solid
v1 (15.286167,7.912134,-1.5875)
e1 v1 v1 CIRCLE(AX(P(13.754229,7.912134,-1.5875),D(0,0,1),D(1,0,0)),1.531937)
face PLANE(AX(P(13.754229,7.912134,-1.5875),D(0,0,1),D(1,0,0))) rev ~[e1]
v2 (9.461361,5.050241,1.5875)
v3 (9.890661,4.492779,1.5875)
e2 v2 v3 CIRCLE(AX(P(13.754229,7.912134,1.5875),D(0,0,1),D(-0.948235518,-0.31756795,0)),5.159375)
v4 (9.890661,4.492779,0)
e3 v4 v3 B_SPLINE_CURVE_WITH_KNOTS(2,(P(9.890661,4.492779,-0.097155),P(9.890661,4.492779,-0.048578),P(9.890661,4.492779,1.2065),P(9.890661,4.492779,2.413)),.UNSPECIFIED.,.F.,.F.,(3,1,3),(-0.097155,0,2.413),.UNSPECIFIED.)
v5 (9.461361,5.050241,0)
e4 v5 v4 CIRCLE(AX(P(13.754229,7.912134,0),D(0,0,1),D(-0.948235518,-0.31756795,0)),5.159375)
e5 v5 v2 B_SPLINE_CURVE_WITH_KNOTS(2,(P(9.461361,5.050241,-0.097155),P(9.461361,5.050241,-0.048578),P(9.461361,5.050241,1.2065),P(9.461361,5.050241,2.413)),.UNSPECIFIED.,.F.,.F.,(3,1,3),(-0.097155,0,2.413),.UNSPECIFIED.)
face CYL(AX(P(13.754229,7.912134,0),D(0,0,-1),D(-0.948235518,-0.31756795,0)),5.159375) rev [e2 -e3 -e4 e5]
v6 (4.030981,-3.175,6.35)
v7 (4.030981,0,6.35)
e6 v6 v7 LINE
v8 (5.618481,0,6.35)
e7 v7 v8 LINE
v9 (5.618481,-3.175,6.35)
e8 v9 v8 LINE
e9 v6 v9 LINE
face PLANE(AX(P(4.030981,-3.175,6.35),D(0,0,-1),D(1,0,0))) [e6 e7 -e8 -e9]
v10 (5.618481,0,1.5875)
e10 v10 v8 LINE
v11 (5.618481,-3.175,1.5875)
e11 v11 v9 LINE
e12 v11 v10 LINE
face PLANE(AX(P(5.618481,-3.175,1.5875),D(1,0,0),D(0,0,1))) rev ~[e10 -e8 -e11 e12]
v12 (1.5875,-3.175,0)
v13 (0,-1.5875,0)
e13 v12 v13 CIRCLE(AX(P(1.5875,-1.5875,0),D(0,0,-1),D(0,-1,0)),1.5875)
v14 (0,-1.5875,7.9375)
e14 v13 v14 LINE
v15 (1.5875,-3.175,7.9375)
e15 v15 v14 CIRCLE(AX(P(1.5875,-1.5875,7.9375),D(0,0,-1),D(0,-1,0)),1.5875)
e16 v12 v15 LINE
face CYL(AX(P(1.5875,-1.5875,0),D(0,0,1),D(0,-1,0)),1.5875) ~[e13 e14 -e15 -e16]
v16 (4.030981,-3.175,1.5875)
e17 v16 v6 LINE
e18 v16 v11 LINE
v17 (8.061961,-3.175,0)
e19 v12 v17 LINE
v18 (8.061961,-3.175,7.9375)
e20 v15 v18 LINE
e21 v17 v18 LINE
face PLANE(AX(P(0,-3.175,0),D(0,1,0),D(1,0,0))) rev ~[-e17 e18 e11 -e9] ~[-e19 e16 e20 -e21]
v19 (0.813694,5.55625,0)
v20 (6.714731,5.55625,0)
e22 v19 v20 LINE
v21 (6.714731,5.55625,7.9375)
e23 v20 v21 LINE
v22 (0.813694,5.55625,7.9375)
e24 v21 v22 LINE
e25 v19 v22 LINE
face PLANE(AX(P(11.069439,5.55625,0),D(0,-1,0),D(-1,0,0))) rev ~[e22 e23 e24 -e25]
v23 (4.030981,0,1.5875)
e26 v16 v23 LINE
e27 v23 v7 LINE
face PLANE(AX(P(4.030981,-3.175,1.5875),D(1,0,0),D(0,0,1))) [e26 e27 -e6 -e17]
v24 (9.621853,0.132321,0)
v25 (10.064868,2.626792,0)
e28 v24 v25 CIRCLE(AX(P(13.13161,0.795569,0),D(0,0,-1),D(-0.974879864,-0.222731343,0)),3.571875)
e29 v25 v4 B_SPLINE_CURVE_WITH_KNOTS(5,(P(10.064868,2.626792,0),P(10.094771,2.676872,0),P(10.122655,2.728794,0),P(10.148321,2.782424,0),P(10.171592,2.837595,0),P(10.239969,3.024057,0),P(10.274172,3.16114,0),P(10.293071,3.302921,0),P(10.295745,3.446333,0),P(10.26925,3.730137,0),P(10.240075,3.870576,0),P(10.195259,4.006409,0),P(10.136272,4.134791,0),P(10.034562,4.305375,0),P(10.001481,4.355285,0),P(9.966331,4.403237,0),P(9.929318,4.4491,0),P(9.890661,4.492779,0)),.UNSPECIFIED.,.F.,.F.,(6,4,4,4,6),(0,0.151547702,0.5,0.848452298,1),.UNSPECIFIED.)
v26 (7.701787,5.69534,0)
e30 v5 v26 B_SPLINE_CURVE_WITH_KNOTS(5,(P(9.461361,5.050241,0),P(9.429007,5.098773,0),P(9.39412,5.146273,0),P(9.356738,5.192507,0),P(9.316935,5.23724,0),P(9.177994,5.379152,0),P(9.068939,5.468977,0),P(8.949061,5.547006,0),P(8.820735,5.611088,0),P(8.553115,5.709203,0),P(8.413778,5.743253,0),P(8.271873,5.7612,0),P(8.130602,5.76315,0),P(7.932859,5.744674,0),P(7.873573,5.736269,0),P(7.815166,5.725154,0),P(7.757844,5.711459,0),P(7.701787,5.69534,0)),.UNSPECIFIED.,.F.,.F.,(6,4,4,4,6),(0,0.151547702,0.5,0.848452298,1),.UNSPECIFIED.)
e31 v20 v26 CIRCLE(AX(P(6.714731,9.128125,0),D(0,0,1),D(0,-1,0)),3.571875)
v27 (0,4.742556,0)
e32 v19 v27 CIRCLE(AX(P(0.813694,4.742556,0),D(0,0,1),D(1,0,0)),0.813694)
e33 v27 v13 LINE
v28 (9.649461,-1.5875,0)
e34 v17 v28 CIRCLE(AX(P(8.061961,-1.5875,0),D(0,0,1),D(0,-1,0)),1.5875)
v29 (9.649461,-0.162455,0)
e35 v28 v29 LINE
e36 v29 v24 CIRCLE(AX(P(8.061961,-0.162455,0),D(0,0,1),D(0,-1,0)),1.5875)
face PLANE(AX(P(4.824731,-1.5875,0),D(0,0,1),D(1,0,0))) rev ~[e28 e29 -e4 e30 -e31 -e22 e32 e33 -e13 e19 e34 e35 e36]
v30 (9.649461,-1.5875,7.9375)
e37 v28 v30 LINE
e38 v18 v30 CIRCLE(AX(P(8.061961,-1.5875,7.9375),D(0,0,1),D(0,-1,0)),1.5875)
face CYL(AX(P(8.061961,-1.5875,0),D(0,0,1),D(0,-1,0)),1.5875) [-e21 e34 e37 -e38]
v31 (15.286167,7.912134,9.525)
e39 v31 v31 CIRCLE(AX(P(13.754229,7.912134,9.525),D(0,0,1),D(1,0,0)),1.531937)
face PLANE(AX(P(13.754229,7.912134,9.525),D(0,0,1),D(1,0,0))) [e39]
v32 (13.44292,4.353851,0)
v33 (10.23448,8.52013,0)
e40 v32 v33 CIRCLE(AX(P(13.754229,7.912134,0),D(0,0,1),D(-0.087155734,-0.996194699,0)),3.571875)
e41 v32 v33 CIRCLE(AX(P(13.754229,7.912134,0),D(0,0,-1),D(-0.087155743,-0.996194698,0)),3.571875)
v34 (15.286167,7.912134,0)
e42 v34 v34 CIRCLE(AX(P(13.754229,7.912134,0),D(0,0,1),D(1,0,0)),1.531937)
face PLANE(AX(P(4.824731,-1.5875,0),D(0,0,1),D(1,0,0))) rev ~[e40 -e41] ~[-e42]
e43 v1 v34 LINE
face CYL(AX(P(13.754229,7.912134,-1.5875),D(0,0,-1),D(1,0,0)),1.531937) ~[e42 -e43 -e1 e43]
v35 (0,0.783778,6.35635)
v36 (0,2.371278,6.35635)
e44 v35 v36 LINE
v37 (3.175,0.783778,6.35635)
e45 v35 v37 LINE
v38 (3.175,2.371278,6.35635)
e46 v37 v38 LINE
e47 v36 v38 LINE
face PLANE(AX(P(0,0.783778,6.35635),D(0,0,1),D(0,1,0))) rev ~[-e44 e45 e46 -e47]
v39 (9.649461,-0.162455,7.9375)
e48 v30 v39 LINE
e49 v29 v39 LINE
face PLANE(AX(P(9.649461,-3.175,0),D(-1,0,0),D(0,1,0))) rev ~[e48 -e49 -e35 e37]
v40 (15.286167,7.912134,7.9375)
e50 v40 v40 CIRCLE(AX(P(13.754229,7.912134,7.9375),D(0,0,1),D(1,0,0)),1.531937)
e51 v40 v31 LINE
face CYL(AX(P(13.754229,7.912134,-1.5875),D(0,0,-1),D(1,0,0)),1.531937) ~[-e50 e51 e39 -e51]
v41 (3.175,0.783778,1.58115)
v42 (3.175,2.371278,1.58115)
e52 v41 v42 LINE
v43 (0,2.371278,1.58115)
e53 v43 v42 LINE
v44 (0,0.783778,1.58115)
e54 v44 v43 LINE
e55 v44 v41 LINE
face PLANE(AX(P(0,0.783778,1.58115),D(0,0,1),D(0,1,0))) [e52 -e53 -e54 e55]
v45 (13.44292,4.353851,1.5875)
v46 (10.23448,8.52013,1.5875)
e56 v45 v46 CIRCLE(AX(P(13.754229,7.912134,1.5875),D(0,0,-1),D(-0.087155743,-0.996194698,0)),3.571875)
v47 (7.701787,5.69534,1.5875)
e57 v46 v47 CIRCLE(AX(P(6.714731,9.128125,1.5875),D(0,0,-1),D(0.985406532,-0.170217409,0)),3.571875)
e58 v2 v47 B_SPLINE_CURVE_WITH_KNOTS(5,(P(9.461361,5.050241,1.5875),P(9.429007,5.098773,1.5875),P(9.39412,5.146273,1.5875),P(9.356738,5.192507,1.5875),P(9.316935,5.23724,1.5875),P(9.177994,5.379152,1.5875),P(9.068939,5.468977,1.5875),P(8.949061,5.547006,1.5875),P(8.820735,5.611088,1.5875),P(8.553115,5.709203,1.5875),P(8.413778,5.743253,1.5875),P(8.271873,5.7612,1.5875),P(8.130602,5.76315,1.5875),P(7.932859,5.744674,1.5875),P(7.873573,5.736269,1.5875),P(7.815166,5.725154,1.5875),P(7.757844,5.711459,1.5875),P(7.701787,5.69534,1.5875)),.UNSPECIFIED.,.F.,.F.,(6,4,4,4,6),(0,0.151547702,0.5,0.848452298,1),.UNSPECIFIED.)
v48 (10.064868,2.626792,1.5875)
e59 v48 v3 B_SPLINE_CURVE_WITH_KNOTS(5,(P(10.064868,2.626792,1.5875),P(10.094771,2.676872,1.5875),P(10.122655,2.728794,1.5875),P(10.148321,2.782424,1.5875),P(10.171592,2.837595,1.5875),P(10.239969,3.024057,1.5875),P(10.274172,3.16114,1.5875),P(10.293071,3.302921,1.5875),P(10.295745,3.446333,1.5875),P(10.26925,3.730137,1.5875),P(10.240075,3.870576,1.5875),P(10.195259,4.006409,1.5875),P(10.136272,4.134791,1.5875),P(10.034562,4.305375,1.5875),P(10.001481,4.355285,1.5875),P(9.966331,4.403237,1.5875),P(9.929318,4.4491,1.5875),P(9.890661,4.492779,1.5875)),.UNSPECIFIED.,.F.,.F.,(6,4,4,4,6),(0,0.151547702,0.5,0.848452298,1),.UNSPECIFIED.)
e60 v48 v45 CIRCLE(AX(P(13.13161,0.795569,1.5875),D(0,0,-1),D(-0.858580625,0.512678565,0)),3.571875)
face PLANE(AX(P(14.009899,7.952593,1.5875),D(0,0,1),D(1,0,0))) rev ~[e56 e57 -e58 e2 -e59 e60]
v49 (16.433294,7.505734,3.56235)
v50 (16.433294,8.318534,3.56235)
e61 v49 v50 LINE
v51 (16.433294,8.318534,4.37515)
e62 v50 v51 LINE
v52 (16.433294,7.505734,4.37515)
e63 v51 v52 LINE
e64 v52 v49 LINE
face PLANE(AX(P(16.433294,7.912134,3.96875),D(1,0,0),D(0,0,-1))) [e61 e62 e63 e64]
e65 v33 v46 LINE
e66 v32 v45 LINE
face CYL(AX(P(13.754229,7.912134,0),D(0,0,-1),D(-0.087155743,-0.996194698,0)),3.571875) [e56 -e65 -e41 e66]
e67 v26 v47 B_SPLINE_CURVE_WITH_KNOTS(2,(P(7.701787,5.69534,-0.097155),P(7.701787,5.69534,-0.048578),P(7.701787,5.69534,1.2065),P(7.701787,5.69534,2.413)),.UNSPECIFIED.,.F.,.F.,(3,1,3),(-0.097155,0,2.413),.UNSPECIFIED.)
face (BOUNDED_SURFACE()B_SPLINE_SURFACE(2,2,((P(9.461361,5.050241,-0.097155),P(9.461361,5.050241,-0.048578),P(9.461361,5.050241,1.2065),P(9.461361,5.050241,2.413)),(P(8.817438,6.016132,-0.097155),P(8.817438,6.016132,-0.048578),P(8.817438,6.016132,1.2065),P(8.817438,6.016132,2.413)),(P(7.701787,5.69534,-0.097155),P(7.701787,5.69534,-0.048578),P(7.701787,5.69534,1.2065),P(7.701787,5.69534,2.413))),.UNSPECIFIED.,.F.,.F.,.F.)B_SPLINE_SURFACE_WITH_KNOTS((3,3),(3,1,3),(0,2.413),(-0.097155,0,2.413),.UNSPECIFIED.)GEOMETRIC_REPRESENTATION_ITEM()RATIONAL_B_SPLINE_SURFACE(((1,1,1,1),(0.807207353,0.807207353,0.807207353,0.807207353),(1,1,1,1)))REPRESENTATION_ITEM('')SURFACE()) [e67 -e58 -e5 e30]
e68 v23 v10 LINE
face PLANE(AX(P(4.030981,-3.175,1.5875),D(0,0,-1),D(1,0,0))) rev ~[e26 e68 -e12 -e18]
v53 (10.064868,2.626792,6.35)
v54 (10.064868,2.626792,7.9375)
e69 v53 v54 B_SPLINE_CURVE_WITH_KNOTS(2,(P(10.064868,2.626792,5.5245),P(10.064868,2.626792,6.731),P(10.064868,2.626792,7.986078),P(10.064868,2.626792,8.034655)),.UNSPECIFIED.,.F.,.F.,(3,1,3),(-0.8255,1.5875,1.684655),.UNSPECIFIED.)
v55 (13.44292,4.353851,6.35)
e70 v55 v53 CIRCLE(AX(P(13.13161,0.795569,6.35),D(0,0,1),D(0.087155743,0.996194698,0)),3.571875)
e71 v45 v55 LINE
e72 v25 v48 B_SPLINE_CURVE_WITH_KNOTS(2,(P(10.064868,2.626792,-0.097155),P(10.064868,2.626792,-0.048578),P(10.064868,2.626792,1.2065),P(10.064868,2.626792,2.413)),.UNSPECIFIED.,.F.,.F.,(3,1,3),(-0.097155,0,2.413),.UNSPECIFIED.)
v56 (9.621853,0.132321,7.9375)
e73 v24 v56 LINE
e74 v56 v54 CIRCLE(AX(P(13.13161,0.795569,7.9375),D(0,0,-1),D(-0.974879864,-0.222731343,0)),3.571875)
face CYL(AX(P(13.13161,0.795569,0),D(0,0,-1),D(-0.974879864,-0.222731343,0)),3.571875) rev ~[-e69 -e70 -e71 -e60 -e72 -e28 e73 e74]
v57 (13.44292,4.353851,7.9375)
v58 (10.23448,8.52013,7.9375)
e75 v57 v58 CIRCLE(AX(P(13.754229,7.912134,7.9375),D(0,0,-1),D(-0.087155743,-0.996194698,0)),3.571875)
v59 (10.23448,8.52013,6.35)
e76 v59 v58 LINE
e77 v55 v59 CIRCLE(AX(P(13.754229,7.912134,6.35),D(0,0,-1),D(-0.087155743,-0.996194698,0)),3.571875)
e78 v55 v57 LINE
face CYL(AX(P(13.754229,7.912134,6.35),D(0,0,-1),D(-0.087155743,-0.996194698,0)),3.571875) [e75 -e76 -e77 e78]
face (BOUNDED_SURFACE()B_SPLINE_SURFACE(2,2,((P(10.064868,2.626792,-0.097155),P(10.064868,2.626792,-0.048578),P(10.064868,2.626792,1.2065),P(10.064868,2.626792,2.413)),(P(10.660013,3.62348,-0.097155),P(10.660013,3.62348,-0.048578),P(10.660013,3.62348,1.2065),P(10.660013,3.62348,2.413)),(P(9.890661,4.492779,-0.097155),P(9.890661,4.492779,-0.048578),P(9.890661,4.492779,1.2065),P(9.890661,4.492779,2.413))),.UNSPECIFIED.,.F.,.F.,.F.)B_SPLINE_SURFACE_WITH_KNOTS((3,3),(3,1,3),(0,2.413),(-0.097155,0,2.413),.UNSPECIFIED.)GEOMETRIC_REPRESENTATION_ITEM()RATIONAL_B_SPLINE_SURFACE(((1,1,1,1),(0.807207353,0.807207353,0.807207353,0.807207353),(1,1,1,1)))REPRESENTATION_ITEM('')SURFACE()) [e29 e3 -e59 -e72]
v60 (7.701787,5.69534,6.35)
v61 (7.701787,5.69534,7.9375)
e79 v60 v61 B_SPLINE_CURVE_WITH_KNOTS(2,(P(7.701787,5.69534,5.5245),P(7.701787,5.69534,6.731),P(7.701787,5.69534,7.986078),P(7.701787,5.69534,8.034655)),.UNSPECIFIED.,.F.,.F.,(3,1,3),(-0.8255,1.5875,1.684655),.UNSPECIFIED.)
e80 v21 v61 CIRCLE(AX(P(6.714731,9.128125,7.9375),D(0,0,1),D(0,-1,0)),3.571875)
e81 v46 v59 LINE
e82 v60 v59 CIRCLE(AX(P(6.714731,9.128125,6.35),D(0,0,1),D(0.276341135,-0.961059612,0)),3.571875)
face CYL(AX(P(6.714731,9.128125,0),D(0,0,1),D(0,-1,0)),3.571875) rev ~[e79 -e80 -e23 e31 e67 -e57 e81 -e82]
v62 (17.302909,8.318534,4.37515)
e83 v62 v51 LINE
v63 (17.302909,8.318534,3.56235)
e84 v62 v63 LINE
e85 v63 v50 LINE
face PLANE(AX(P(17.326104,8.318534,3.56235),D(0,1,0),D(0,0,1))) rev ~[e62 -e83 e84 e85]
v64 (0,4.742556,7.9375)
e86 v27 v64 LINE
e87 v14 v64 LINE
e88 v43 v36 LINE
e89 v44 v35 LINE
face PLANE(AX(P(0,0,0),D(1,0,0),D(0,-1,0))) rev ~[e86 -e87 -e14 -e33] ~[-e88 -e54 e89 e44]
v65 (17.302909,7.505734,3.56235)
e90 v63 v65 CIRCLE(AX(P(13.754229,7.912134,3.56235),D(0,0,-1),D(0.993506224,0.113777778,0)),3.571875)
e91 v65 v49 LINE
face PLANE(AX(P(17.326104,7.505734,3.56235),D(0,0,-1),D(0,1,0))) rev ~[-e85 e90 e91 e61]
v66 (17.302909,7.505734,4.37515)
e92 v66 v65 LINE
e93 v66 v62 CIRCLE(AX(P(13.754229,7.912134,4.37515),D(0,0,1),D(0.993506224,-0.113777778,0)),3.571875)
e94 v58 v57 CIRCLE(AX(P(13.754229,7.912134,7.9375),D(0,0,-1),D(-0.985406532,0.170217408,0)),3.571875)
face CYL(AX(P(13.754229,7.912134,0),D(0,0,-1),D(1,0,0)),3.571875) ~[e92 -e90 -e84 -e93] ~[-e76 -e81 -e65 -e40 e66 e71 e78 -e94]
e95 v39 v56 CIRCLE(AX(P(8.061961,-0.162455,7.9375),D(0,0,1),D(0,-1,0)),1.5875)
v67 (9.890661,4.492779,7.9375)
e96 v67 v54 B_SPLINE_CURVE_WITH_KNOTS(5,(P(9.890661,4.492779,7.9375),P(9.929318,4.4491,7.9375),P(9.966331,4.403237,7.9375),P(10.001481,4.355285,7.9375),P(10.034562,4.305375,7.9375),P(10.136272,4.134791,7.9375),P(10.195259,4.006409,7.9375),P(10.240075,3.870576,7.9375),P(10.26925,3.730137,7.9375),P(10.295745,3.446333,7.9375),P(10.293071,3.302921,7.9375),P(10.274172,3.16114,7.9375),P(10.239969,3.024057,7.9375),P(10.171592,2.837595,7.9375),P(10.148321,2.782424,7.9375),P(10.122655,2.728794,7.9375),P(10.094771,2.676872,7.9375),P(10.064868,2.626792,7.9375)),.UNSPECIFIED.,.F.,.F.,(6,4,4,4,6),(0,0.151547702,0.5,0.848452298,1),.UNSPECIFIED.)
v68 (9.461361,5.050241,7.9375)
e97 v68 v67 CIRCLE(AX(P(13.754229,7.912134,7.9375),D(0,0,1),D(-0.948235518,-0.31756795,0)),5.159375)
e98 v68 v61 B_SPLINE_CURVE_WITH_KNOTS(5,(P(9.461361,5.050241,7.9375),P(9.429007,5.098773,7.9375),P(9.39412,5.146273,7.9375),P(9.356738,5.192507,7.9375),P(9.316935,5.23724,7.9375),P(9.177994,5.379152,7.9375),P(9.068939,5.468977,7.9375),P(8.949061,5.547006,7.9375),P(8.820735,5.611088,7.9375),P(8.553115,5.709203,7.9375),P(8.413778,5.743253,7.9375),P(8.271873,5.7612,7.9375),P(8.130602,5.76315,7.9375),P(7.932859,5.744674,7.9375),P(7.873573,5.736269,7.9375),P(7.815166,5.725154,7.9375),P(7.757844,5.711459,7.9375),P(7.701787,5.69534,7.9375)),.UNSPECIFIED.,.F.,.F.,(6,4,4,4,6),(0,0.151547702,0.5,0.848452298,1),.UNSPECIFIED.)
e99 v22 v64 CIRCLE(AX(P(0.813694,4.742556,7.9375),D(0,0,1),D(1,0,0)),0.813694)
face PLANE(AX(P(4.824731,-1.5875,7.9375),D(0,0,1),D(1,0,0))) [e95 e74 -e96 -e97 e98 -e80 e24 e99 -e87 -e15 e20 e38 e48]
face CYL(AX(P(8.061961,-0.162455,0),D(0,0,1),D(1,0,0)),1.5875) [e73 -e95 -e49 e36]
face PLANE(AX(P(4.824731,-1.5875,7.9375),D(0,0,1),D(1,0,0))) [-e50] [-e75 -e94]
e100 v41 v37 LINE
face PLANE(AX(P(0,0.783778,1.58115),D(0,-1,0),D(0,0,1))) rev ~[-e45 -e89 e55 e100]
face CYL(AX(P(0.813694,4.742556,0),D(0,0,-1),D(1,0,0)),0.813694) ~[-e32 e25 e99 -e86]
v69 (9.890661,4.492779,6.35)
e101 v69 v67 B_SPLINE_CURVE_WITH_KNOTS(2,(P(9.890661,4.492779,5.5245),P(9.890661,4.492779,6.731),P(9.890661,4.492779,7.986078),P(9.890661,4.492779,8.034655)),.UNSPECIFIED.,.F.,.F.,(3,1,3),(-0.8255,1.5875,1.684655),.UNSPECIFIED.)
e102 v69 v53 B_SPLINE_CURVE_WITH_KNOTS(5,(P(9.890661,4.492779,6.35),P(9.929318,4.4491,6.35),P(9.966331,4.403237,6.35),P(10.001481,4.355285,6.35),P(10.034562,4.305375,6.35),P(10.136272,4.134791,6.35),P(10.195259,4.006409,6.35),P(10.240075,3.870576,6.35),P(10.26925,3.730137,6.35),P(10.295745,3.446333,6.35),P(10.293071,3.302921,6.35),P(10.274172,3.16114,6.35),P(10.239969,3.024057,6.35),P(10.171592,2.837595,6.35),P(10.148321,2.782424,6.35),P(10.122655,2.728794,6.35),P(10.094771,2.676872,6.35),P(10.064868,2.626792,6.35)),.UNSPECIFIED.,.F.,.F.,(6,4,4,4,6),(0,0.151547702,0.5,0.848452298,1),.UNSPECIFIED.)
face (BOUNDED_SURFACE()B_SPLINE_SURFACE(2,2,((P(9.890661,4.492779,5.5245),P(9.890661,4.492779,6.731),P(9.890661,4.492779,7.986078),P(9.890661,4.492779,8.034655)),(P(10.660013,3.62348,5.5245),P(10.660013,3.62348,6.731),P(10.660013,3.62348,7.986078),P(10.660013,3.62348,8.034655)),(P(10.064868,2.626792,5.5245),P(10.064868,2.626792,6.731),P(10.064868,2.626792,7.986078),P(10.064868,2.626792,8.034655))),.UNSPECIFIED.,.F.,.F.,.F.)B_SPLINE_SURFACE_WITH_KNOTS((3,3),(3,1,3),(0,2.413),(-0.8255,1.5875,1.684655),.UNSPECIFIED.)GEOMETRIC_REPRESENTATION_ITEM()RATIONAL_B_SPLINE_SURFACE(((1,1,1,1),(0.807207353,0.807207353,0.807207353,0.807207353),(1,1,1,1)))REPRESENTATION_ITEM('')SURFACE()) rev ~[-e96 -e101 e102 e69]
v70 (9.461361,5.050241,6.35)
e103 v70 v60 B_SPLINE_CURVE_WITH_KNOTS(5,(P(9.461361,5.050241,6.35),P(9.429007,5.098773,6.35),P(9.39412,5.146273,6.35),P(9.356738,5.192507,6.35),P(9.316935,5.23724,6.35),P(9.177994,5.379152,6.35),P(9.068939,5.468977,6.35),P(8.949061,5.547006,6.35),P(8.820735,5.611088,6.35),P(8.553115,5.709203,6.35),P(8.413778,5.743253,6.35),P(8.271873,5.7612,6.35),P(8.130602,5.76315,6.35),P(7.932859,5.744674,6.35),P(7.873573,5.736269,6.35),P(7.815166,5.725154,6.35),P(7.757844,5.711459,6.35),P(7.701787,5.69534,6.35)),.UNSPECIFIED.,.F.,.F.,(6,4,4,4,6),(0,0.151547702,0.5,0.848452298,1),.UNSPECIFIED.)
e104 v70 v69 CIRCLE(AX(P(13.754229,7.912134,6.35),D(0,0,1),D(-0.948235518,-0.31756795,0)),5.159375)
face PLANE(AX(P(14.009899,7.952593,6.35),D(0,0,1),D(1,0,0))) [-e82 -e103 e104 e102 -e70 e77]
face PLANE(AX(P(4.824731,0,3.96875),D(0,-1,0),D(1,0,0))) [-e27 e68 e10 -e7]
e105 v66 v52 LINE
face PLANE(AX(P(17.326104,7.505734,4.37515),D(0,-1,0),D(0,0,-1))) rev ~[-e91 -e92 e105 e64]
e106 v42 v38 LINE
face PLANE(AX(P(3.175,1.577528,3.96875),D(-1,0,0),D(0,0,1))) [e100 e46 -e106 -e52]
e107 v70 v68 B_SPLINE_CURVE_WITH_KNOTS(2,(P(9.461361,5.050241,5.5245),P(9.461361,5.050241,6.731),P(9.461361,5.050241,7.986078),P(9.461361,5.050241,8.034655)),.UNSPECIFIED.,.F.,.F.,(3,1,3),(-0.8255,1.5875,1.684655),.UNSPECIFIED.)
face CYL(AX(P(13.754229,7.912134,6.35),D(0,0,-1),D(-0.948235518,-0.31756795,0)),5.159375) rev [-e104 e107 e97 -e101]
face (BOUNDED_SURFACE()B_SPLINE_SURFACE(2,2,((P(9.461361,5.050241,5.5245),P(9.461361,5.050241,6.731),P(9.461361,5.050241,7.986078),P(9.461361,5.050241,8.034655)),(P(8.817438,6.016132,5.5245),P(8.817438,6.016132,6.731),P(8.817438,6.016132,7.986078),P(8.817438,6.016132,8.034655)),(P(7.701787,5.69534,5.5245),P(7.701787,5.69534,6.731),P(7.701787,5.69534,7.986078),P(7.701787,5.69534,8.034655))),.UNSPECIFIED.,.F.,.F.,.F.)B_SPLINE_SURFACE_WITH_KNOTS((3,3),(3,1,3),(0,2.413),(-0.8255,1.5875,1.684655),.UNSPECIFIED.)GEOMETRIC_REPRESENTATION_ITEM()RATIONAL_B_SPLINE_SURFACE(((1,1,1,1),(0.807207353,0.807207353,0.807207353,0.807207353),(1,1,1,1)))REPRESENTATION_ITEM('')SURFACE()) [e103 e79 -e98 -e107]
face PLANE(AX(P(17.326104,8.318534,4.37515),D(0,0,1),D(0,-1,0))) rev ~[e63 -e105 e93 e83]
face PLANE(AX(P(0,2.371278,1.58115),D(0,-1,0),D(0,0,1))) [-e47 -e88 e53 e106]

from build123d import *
from build123d.topology import SkipClean

# Parameters (mm, degrees)
SKETCH3_R                = 1.5319375
BOSS_EXTRUDE1_DEPTH      = 7.9375
BOSS_EXTRUDE2_DEPTH      = 9.525
BOSS_EXTRUDE2_DEPTH_BACK = 1.5875
SKETCH3_4_R              = 1.5319375
FILLET1_R                = 1.5875
SKETCH4_W                = 1.5875
SKETCH4_H                = 4.7625
CUT_EXTRUDE1_DEPTH       = 3.175
SKETCH5_W                = 4.7752
SKETCH5_H                = 1.5875
CUT_EXTRUDE2_DEPTH       = 3.175
FILLET2_R                = 3.571875
SKETCH6_W                = 0.8128
SKETCH6_H                = 0.8128
CUT_EXTRUDE4_DEPTH       = 0.89281
CUT_EXTRUDE6_START       = -1.5875
CUT_EXTRUDE6_DEPTH       = 1.5875
CUT_EXTRUDE7_START       = -7.9375
CUT_EXTRUDE7_DEPTH       = 1.5875
FILLET4_R                = 1.5875


with BuildPart() as part:
    # Sketch3 → Boss-Extrude1 (new body)
    with BuildSketch(Plane.XY):
        with BuildLine():
            ThreePointArc((0.813693974, 5.55625), (0.238325447, 5.317924553), (0, 4.742556026))
            Line((0, 4.742556026), (0, -3.175))
            Line((0, -3.175), (9.649461258, -3.175))
            Line((9.649461258, -3.175), (9.649461258, 0))
            ThreePointArc((9.649461258, 0), (10.438552252, 3.141997614), (13.44291972, 4.353851449))
            ThreePointArc((13.44291972, 4.353851449), (15.368414392, 11.098464078), (11.069438658, 5.55625))
            Line((11.069438658, 5.55625), (0.813693974, 5.55625))
        make_face()
        with Locations((13.754229109, 7.912134389)):
            Circle(SKETCH3_R, mode=Mode.SUBTRACT)
    extrude(amount=BOSS_EXTRUDE1_DEPTH)

    # Sketch3<4> → Boss-Extrude2 (add, two sides: drawn at the far end of the back side and taken through both)
    with BuildSketch(Plane.XY.offset(-BOSS_EXTRUDE2_DEPTH_BACK)):
        with Locations((13.754229109, 7.912134389)):
            Circle(SKETCH3_4_R)
    extrude(amount=BOSS_EXTRUDE2_DEPTH + BOSS_EXTRUDE2_DEPTH_BACK)

    # Fillet1
    fillet1_edges = [part.edges().sort_by_distance(p)[0] for p in [
        (9.649461258, 0, 3.96875),
        (9.649461258, -3.175, 3.96875),
        (0, -3.175, 3.96875),
    ]]
    fillet(fillet1_edges, radius=FILLET1_R)

    # Sketch4 → Cut-Extrude1 (cut)
    with BuildSketch(Plane.XZ.offset(3.175)):
        with Locations((4.824730629, 3.96875)):
            Rectangle(SKETCH4_W, SKETCH4_H)
    extrude(amount=-CUT_EXTRUDE1_DEPTH, mode=Mode.SUBTRACT)

    # Sketch5 → Cut-Extrude2 (cut)
    with BuildSketch(Plane.ZY):
        with Locations((3.96875, 1.577528013)):
            Rectangle(SKETCH5_W, SKETCH5_H)
    extrude(amount=-CUT_EXTRUDE2_DEPTH, mode=Mode.SUBTRACT)

    # Fillet2
    fillet2_edges = [part.edges().sort_by_distance(p)[0] for p in [
        (11.069438658, 5.55625, 3.96875),
    ]]
    fillet(fillet2_edges, radius=FILLET2_R)

    # Sketch6 → Cut-Extrude4 (cut)
    with BuildSketch(Plane(origin=(17.326104109, 0, 0), x_dir=(0, 0, -1), z_dir=(1, 0, 0))):
        with Locations((-3.96875, 7.912134389)):
            Rectangle(SKETCH6_W, SKETCH6_H)
    extrude(amount=-CUT_EXTRUDE4_DEPTH, mode=Mode.SUBTRACT)

    # Sketch7 → Cut-Extrude6 (cut)
    with SkipClean():  # the faces are left unmerged after this step: merging them gives an invalid solid
        with BuildSketch(Plane.XY.offset(7.9375).offset(CUT_EXTRUDE6_START)):
            with BuildLine():
                ThreePointArc((13.44291969, 4.353851452), (10.924260793, 5.732783489), (10.234480151, 8.520129694))
                ThreePointArc((10.234480151, 8.520129694), (9.762713445, 7.265842741), (8.861926483, 6.273682251))
                ThreePointArc((8.861926483, 6.273682251), (9.666497097, 4.764183089), (10.920382704, 3.600700179))
                ThreePointArc((10.920382704, 3.600700179), (12.109733834, 4.218149348), (13.44291969, 4.353851452))
            make_face()
        extrude(amount=CUT_EXTRUDE6_DEPTH, mode=Mode.SUBTRACT)

    # Sketch7<6> → Cut-Extrude7 (cut)
    with SkipClean():  # the faces are left unmerged after this step: merging them gives an invalid solid
        with BuildSketch(Plane.XY.offset(7.9375).offset(CUT_EXTRUDE7_START)):
            with BuildLine():
                ThreePointArc((13.44291969, 4.353851452), (10.924260793, 5.732783489), (10.234480151, 8.520129694))
                ThreePointArc((10.234480151, 8.520129694), (9.762713445, 7.265842741), (8.861926483, 6.273682251))
                ThreePointArc((8.861926483, 6.273682251), (9.666497097, 4.764183089), (10.920382704, 3.600700179))
                ThreePointArc((10.920382704, 3.600700179), (12.109733834, 4.218149348), (13.44291969, 4.353851452))
            make_face()
        extrude(amount=CUT_EXTRUDE7_DEPTH, mode=Mode.SUBTRACT)

    # Fillet4
    fillet4_edges = [part.edges().sort_by_distance(p)[0] for p in [
        (10.920382704, 3.600700179, 0.79375),
        (10.920382704, 3.600700179, 7.14375),
        (8.861926483, 6.273682251, 7.14375),
        (8.861926483, 6.273682251, 0.79375),
    ]]
    fillet(fillet4_edges, radius=FILLET4_R)


solid = part.part
